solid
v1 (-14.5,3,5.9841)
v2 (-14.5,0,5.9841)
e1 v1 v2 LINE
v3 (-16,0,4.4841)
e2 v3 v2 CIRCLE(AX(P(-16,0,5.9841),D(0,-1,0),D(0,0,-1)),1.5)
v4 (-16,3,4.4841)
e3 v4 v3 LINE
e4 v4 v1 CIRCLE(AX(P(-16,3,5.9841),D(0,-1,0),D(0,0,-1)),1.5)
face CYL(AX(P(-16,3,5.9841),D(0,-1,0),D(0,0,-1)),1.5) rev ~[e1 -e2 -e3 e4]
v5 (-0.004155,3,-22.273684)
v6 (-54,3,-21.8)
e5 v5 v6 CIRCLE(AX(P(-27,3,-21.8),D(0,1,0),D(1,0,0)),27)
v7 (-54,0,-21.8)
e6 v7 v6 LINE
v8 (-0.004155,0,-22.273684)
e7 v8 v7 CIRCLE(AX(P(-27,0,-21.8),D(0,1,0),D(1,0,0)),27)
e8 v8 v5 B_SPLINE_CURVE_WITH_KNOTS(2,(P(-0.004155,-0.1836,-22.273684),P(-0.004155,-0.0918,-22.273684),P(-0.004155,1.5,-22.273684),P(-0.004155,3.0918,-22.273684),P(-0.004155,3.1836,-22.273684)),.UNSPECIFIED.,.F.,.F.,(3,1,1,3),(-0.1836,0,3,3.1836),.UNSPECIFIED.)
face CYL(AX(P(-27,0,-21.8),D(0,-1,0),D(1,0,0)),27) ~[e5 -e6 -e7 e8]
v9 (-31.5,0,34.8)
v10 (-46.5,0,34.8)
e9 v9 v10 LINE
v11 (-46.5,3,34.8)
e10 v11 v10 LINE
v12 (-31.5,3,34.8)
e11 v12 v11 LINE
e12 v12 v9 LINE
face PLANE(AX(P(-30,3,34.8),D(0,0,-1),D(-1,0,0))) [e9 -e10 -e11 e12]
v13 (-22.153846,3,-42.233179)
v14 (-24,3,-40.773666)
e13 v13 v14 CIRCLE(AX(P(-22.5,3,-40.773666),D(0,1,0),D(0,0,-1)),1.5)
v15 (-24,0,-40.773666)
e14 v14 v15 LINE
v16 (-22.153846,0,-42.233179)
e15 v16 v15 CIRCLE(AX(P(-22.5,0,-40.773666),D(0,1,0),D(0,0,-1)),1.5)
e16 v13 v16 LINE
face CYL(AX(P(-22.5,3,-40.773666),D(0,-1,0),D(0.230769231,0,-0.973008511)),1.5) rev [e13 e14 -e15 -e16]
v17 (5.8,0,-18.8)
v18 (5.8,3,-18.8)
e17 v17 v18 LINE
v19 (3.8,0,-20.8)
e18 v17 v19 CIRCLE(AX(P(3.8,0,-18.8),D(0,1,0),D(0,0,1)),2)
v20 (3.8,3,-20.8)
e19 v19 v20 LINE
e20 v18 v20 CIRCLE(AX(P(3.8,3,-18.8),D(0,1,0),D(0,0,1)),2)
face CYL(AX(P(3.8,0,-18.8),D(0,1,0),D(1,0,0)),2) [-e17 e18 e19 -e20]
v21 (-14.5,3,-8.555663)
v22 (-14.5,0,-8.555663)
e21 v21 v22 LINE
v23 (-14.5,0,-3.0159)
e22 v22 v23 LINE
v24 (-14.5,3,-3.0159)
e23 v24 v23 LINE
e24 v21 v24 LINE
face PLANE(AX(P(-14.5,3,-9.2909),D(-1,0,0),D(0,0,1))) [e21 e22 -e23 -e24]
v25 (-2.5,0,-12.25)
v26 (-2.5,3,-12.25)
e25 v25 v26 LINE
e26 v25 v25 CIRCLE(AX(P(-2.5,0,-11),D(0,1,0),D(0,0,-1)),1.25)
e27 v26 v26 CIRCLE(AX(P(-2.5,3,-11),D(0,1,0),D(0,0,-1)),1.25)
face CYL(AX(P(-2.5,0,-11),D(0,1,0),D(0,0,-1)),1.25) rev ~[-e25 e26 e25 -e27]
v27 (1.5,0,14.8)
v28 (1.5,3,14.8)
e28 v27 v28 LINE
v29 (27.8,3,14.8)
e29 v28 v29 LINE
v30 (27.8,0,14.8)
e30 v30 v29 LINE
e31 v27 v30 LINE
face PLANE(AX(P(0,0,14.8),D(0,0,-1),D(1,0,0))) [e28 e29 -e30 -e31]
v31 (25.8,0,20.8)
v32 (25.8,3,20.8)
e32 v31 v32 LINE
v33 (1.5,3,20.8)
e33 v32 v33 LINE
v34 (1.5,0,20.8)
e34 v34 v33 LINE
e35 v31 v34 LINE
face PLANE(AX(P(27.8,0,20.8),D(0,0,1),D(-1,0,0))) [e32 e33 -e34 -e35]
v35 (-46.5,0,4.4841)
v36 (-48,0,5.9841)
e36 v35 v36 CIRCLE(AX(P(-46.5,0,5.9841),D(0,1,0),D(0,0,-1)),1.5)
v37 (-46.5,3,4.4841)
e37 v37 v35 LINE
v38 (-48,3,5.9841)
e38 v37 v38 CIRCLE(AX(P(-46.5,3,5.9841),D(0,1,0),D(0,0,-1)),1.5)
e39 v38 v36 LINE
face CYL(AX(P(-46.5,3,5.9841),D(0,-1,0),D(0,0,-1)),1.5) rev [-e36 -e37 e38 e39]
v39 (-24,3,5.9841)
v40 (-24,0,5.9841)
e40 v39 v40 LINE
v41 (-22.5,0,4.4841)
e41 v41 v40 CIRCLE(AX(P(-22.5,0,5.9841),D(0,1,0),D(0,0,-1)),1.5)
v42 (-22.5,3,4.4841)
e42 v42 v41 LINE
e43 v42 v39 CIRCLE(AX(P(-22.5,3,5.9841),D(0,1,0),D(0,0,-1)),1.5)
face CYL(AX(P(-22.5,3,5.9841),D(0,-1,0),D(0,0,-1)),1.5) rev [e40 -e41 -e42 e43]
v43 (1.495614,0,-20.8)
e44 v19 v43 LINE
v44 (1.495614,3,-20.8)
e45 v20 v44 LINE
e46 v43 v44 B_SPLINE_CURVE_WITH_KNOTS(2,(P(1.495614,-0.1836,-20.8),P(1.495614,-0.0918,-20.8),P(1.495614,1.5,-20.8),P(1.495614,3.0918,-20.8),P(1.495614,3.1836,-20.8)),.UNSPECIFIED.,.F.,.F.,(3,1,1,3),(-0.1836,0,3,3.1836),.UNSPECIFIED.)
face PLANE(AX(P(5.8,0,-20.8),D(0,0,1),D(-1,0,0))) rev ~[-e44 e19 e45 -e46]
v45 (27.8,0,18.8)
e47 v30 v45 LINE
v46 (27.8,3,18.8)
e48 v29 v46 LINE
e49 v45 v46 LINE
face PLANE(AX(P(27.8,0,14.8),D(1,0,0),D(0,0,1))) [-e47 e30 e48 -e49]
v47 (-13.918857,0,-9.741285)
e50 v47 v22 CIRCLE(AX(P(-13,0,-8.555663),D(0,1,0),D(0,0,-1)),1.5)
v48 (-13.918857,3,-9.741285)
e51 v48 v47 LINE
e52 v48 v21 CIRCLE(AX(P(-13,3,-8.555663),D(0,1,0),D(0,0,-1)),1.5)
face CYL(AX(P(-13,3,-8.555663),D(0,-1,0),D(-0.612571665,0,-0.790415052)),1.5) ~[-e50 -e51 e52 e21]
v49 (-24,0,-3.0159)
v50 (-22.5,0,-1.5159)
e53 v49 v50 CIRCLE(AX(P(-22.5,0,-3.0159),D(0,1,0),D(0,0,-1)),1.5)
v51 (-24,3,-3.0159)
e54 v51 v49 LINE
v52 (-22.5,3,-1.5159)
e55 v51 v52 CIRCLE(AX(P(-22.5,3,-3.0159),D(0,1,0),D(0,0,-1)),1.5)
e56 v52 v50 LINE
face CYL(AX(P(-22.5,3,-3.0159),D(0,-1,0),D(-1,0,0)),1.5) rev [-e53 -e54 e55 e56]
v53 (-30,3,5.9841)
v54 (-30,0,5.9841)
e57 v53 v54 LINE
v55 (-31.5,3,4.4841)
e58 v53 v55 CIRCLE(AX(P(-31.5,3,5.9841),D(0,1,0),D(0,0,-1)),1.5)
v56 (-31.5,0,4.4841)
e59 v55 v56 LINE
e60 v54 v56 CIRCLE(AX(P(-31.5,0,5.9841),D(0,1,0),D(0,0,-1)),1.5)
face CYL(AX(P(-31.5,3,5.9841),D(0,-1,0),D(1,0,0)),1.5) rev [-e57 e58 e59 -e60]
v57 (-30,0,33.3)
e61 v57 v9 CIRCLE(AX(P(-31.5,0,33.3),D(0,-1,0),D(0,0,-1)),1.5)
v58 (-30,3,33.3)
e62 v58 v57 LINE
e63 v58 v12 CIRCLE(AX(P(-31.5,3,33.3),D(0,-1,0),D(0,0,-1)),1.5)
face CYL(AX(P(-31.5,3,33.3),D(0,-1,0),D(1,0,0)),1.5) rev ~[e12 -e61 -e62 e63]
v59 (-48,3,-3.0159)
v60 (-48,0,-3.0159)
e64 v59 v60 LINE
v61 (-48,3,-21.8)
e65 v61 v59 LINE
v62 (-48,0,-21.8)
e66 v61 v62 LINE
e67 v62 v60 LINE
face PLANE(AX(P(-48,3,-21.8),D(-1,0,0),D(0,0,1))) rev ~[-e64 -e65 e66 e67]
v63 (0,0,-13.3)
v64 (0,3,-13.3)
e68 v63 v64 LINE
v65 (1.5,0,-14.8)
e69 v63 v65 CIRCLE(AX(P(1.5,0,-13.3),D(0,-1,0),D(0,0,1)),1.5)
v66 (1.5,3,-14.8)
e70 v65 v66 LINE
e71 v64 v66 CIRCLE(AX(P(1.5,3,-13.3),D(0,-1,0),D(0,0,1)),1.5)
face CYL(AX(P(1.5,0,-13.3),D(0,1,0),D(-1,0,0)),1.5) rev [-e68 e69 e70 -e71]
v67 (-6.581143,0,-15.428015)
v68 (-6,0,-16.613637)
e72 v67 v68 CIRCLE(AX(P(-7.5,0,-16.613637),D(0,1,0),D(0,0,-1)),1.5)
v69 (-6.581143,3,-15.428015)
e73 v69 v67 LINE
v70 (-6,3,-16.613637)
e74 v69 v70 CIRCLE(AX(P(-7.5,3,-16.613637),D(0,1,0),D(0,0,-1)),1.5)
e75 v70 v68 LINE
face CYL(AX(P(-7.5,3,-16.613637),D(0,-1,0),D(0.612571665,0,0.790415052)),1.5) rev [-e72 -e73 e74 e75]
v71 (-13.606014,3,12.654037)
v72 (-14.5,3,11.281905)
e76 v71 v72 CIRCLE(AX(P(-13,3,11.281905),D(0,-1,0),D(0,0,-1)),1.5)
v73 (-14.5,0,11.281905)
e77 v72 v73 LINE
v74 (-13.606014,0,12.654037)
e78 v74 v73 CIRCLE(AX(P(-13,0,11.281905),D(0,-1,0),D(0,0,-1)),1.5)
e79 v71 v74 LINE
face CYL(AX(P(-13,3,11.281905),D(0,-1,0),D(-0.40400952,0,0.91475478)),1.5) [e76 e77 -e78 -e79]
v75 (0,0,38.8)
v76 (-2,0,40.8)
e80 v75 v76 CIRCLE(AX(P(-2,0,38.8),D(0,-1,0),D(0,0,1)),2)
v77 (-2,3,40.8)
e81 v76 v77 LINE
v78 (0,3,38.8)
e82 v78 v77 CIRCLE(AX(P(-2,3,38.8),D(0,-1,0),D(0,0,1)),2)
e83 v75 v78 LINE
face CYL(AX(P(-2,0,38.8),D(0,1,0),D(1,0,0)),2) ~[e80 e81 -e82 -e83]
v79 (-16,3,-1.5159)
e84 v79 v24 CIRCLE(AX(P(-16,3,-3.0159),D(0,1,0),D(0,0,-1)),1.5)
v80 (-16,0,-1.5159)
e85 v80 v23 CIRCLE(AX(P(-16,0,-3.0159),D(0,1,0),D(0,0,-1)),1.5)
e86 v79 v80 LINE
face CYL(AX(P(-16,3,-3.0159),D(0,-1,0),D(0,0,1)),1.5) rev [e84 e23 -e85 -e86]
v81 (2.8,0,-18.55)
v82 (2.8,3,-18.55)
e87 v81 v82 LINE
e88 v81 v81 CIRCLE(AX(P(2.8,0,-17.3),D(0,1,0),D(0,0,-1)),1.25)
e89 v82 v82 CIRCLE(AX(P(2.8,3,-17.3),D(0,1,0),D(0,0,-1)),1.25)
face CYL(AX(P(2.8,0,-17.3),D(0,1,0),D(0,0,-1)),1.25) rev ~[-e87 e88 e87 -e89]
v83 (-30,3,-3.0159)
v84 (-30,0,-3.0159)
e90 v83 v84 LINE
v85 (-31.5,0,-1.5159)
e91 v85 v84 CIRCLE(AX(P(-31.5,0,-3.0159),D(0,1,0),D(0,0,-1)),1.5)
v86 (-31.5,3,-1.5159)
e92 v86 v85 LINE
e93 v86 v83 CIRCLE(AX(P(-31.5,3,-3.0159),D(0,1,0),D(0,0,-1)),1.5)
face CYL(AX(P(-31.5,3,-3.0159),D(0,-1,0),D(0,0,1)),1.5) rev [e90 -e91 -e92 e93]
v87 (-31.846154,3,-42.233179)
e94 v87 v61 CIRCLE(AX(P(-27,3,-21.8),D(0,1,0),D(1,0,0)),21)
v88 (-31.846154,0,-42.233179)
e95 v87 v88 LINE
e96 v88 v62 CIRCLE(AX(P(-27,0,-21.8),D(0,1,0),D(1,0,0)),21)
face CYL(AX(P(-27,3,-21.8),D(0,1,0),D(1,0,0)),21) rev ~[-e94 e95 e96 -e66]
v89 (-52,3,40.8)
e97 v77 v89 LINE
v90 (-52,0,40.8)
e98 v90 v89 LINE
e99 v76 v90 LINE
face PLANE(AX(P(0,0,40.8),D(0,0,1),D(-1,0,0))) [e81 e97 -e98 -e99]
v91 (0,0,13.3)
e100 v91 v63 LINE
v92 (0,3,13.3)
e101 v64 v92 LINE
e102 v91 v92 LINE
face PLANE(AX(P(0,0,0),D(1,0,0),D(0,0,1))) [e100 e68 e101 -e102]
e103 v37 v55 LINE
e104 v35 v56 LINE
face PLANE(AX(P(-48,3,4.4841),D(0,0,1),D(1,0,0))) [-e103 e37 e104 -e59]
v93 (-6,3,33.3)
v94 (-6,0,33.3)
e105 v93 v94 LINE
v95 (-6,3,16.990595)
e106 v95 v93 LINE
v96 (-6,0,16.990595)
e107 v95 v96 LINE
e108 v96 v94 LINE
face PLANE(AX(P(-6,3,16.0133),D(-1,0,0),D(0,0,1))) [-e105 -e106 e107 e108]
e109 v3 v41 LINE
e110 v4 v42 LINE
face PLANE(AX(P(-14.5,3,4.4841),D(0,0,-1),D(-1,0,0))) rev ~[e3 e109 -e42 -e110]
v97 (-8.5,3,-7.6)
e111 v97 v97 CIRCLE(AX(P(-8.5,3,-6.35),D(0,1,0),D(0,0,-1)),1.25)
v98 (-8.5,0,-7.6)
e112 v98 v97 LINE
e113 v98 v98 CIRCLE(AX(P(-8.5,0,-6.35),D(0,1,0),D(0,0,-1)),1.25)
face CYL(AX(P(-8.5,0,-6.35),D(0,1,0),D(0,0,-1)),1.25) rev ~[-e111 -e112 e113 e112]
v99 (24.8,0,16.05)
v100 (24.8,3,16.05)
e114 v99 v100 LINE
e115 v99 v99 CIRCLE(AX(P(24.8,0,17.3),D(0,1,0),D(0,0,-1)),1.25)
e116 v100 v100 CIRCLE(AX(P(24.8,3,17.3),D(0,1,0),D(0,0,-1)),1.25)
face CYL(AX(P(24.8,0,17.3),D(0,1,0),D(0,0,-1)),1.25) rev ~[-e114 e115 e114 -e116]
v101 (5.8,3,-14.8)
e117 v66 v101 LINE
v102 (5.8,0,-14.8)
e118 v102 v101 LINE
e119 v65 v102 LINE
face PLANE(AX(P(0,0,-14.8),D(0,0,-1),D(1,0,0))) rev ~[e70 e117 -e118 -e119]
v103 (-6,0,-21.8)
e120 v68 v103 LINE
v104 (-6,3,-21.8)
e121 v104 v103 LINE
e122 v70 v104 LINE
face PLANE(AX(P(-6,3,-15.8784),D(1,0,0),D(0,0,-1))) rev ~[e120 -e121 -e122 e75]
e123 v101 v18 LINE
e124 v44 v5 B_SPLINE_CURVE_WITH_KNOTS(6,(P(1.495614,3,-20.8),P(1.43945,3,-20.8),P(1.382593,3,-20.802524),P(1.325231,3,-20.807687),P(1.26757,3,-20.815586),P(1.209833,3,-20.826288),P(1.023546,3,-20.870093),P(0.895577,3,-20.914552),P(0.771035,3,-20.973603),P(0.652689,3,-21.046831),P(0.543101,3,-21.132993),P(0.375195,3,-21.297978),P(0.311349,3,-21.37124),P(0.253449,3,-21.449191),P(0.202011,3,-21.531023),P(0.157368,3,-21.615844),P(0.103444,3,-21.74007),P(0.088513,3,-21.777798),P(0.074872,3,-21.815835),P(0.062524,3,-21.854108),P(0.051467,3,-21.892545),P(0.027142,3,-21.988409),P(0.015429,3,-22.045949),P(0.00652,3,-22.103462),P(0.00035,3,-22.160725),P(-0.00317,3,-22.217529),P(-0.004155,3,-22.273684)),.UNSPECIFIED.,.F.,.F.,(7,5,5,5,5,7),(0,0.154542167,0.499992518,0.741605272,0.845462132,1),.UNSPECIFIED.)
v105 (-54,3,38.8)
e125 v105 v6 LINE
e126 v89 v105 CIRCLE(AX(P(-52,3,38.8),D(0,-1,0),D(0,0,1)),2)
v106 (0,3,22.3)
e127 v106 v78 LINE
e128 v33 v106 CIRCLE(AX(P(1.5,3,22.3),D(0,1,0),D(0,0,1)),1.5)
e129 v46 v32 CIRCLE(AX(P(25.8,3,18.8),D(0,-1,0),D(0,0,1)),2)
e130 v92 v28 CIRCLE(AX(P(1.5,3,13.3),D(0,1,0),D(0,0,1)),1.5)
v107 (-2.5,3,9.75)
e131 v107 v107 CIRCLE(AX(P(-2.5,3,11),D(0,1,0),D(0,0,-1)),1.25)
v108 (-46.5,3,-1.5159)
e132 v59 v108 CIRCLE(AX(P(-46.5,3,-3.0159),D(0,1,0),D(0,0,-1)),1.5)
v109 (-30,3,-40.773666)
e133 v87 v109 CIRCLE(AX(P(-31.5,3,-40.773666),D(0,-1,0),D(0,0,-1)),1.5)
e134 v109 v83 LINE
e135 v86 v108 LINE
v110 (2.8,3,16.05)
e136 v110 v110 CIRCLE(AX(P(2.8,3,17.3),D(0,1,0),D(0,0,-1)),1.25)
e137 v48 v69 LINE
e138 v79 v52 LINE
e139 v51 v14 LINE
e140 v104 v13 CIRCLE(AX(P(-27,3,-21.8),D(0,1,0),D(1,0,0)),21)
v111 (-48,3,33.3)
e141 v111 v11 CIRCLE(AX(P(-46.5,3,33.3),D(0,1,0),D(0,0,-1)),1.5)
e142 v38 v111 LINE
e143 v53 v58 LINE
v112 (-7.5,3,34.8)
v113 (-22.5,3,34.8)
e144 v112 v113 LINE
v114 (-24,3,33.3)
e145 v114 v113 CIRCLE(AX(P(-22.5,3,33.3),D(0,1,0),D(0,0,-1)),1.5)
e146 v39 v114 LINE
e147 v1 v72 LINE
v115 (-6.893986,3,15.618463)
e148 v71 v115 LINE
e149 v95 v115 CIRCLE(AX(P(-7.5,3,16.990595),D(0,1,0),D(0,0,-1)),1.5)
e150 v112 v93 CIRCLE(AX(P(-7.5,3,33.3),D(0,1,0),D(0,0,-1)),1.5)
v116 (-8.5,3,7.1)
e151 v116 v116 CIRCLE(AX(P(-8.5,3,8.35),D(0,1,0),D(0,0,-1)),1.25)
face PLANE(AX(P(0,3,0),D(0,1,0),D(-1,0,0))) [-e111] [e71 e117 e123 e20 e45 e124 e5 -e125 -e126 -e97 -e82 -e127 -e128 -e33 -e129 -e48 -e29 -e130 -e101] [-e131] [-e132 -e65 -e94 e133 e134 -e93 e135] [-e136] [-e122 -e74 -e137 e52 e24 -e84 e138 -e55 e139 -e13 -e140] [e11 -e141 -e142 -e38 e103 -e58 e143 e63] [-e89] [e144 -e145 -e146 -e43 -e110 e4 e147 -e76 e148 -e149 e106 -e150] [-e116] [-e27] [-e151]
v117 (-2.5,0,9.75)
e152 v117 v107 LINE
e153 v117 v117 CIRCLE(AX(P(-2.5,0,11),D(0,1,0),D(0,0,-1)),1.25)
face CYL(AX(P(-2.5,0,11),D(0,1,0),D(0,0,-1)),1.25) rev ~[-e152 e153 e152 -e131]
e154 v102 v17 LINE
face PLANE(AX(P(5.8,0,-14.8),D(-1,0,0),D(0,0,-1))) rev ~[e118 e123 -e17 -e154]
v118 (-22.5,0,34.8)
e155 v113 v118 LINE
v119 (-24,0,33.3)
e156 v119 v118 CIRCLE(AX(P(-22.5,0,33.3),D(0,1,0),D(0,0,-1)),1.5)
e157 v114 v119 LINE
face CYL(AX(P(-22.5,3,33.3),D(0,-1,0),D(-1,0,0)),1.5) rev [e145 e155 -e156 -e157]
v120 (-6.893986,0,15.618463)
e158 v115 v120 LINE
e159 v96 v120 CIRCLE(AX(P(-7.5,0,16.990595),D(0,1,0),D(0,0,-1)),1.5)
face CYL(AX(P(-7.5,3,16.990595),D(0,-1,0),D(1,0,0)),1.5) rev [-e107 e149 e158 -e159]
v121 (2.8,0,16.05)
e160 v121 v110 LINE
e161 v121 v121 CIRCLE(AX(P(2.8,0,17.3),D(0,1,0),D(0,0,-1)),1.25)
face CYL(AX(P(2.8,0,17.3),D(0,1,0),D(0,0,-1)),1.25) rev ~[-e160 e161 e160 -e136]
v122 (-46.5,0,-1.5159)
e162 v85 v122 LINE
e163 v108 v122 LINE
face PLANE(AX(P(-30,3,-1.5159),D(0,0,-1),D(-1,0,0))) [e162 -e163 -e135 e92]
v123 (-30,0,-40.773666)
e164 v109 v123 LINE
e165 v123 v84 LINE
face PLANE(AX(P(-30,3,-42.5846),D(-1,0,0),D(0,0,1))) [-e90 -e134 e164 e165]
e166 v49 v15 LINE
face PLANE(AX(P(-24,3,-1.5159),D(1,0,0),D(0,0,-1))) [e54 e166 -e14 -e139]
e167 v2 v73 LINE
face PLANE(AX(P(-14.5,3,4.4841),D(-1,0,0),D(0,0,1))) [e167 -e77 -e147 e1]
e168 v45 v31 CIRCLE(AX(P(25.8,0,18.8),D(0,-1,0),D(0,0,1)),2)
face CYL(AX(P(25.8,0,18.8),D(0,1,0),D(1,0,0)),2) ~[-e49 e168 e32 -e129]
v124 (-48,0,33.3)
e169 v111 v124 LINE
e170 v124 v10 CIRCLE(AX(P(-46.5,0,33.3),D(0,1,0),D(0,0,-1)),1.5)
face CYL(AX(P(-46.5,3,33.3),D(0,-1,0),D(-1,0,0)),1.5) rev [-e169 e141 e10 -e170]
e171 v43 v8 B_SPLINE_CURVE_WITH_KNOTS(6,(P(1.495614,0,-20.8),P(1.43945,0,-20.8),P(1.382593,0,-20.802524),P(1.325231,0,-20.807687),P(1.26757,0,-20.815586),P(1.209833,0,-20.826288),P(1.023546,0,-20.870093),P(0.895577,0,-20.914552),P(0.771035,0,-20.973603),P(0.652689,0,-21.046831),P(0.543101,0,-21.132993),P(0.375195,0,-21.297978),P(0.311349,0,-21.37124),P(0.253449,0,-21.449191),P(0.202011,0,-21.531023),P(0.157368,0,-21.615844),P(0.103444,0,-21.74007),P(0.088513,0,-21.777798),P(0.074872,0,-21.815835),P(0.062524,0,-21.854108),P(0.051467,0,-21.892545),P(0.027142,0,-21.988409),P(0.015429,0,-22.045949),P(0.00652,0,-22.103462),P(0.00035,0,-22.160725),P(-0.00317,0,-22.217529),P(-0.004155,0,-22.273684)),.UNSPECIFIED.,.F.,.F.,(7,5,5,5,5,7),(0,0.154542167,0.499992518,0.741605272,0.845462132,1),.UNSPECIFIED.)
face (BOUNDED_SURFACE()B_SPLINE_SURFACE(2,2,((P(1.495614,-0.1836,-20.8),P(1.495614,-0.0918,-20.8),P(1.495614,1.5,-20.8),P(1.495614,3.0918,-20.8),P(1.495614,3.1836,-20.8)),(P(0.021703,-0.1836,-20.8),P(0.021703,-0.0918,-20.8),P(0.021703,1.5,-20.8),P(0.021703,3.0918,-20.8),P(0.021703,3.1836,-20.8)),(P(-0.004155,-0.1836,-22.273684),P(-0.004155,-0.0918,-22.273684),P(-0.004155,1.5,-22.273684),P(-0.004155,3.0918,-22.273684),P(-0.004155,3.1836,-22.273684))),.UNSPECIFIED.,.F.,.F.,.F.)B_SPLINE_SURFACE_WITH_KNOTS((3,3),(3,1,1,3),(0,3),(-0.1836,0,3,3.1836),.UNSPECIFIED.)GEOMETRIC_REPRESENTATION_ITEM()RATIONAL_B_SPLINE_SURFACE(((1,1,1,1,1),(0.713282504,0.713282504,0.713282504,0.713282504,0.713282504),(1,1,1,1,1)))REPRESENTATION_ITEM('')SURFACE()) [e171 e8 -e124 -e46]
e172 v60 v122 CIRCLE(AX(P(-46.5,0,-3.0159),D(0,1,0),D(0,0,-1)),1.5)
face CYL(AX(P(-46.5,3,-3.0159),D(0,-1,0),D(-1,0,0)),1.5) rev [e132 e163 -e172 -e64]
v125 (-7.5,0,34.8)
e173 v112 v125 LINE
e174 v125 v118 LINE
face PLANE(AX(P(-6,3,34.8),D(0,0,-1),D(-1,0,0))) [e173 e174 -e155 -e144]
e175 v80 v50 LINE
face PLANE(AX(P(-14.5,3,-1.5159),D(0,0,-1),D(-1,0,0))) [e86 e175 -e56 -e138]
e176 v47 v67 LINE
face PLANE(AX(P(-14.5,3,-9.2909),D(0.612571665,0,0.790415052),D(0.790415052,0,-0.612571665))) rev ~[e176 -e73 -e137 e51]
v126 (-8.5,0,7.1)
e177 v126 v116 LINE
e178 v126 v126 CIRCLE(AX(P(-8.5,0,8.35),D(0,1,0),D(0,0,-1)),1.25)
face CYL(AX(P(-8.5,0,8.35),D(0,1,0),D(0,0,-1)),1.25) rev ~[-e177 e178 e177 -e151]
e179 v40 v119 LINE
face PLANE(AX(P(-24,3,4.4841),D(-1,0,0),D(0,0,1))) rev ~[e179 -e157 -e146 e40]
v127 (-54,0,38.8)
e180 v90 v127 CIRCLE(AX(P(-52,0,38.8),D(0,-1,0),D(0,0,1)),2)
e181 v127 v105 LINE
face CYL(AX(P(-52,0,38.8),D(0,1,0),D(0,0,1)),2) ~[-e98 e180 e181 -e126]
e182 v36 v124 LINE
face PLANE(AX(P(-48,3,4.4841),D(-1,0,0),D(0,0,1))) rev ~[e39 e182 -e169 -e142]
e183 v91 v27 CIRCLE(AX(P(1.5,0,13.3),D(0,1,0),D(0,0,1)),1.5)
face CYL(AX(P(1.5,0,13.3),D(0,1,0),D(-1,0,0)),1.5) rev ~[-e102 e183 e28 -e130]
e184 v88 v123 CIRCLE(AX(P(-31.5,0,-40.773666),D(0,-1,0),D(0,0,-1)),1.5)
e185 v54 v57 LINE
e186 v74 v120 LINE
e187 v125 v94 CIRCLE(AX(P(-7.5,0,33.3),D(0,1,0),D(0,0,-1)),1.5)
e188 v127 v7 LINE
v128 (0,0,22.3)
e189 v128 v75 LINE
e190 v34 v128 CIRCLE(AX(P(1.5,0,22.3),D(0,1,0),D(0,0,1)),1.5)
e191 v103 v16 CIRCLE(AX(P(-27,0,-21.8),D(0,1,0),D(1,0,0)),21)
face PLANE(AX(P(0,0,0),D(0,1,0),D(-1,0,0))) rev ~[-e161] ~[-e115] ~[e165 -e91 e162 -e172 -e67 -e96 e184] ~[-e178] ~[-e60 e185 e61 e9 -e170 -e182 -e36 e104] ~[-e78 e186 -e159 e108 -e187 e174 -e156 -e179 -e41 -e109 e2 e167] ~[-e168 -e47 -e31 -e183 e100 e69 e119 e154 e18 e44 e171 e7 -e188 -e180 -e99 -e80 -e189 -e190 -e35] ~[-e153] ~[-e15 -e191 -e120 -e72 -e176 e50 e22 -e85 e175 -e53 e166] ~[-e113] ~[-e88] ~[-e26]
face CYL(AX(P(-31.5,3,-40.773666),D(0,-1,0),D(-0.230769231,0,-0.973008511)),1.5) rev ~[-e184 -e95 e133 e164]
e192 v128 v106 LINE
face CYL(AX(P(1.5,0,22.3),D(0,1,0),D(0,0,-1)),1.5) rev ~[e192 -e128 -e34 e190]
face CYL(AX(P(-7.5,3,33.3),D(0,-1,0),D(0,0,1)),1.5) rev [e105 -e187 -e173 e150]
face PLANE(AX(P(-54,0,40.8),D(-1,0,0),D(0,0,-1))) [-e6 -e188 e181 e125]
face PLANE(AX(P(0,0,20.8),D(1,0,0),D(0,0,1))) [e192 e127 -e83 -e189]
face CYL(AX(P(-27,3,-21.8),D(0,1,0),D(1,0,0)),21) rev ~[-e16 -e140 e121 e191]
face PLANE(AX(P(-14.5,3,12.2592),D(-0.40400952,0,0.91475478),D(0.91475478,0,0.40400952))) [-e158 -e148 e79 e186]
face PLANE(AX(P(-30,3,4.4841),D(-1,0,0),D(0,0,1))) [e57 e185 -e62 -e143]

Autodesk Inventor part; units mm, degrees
ref_plane "YZ Plane" through (0, 0, 0) normal (1, 0, 0) x (0, 1, 0)
ref_plane "XZ Plane" through (0, 0, 0) normal (0, 1, 0) x (-1, 0, 0)
ref_plane "XY Plane" through (0, 0, 0) normal (0, 0, 1) x (1, 0, 0)
sketch "Sketch1" plane through (0, 0, 0) normal (0, 1, 0) x (-1, 0, 0)
  line L0 (0, 0) -> (0, -14.8)
  line L1 (0, -14.8) -> (-5.8, -14.8)
  line L2 (-5.8, -14.8) -> (-5.8, -20.8)
  line L3 (-5.8, -20.8) -> (0, -20.8)
  line L4 (0, 0) -> (0, 14.8)
  line L5 (0, 14.8) -> (-27.8, 14.8)
  line L6 (-27.8, 14.8) -> (-27.8, 20.8)
  line L7 (-27.8, 20.8) -> (0, 20.8)
  line L8 (0, 20.8) -> (0, 40.8)
  line L9 (0, 40.8) -> (54, 40.8)
  line L10 (0, -20.8) -> (0, -21.8)
  line L11 (54, 40.8) -> (54, -21.8)
  arc A0 (0, -21.8) -> (54, -21.8) centre (27, -21.8) ccw
  line L12 (-27.8, 17.3) -> (2.5, 17.3) construction
  line L13 (2.5, 17.3) -> (2.5, -17.3) construction
  line L14 (2.5, -17.3) -> (-5.8, -17.3) construction
  line L15 (0, 0) -> (2.5, 0) construction
  line L16 (2.5, 0) -> (8.5, 0) construction
  line L17 (8.5, -6.35) -> (8.5, 8.35) construction
  line L18 (-27.8, 14.8) -> (-5.8, -14.8) construction
  line L19 (-16.8, 0) -> (-21.8, 0) construction
  point P0 (-2.8, -17.3)
  point P1 (-2.8, 17.3)
  point P2 (-24.8, 17.3)
  point P3 (2.5, 11)
  point P4 (2.5, -11)
  dimension "d0" = 20
  dimension "d1" = 6
  dimension "d2" = 6
  dimension "d4" = 54
  dimension "d5" = 1
  dimension "d7" = 2.5
  dimension "d8" = 2.5
  dimension "d9" = 5.3
  dimension "d10" = 3
  dimension "d11" = 34.6
  dimension "d12" = 11
  dimension "d13" = 11
  dimension "d14" = 5.3
  dimension "d15" = 22
  dimension "d16" = 3
  dimension "d19" = 6
  dimension "d20" = 14.7
  dimension "d21" = 6.35
  dimension "d53" = 5
extrude "Extrusion1" add sketch "Sketch1" along normal blind 3
hole "Hole1" at (2.8, 0, -17.3) at (2.8, 0, 17.3) at (24.8, 0, 17.3) at (-2.5, 0, 11) at (-2.5, 0, -11) at (-8.5, 0, 8.35) at (-8.5, 0, -6.35) direction (0, 1, 0) diameter 2.5 end through all
fillet "ManufacturingFillet" radius 1.5 4 edges at (0, 1.5, -20.8) (0, 1.5, -14.8) (0, 1.5, 14.8) (0, 1.5, 20.8)
fillet "Fillet2" radius 2 4 edges at (5.8, 1.5, -20.8) (27.8, 1.5, 20.8) (0, 1.5, 40.8) (-54, 1.5, 40.8)
sketch "InteriorSketch" plane through (0, 3, 0) normal (0, 1, 0) x (1, 0, 0)
  arc A0 (-54, -38.8) -> (-52, -40.8) centre (-52, -38.8) ccw projected
  line L0 (-52, -40.8) -> (-2, -40.8) projected
  arc A1 (-2, -40.8) -> (0, -38.8) centre (-2, -38.8) ccw projected
  line L1 (0, -38.8) -> (0, -22.3) projected
  arc A2 (1.5, -20.8) -> (0, -22.3) centre (1.5, -22.3) ccw projected
  line L2 (1.5, -20.8) -> (25.8, -20.8) projected
  arc A3 (25.8, -20.8) -> (27.8, -18.8) centre (25.8, -18.8) ccw projected
  line L3 (27.8, -18.8) -> (27.8, -14.8) projected
  line L4 (27.8, -14.8) -> (1.5, -14.8) projected
  arc A4 (0, -13.3) -> (1.5, -14.8) centre (1.5, -13.3) ccw projected
  line L5 (0, -13.3) -> (0, 13.3) projected
  arc A5 (1.5, 14.8) -> (0, 13.3) centre (1.5, 13.3) ccw projected
  line L6 (1.5, 14.8) -> (5.8, 14.8) projected
  line L7 (5.8, 14.8) -> (5.8, 18.8) projected
  arc A6 (5.8, 18.8) -> (3.8, 20.8) centre (3.8, 18.8) ccw projected
  line L8 (3.8, 20.8) -> (1.4956, 20.8) projected
  arc A7 (-0.0042, 22.2737) -> (1.4956, 20.8) centre (1.4956, 22.3) ccw projected
  arc A8 (-0.0042, 22.2737) -> (-54, 21.8) centre (-27, 21.8) ccw projected
  line L9 (-54, 21.8) -> (-54, -38.8) projected
  circle A9 centre (-8.5, -8.35) radius 1.25 projected
  circle A10 centre (-2.5, -11) radius 1.25 projected
  circle A11 centre (2.8, -17.3) radius 1.25 projected
  circle A12 centre (2.8, 17.3) radius 1.25 projected
  circle A13 centre (24.8, -17.3) radius 1.25 projected
  circle A14 centre (-2.5, 11) radius 1.25 projected
  circle A15 centre (-8.5, 6.35) radius 1.25 projected
  line L10 (-14.5, 9.2909) -> (-14.5, -12.2592)
  line L11 (-14.5, -12.2592) -> (-6, -16.0133)
  line L12 (-6, -16.0133) -> (-6, -34.8)
  line L13 (-6, -34.8) -> (-48, -34.8)
  circle A16 centre (-2.5, 11) radius 1.25 construction
  line L14 (-8.5, 6.35) -> (-2.5, 11) construction
  line L15 (-8.5, -8.35) -> (-2.5, -11) construction
  line L16 (-14.5, 9.2909) -> (-6, 15.8784)
  line L17 (-6, 15.8784) -> (-6, 21.8)
  line L18 (-6, 15.8784) -> (-6, 21.8)
  arc A17 (-6, 21.8) -> (-48, 21.8) centre (-27, 21.8) ccw
  line L19 (-48, 21.8) -> (-48, -34.8)
  line L20 (-6, 21.8) -> (-48, 21.8) construction
  line L21 (-27, -34.8) -> (-27, 42.8) construction
  line L22 (-14.5, -1.4841) -> (-48, -1.4841) construction
  line L23 (-14.5, 1.5159) -> (-24, 1.5159)
  line L24 (-24, 1.5159) -> (-24, 42.5846)
  line L25 (-30, 42.5846) -> (-30, 1.5159)
  line L26 (-30, 1.5159) -> (-48, 1.5159)
  line L27 (-48, -4.4841) -> (-30, -4.4841)
  line L28 (-30, -4.4841) -> (-30, -34.8)
  line L29 (-14.5, -4.4841) -> (-24, -4.4841)
  line L30 (-24, -4.4841) -> (-24, -34.8)
  line L31 (-30, 1.5159) -> (-24, 1.5159) construction
  line L32 (-30, 1.5159) -> (-30, -4.4841) construction
  point P0 (0, 0)
  point P1 (-14.5, -1.4841)
  point P2 (-27, -1.4841)
  point P3 (-30, -1.4841)
  point P4 (-27, 1.5159)
  dimension "d31" = 6
  dimension "d32" = 6
  dimension "d34" = 6
  dimension "d38" = 6
  dimension "d39" = 6
  dimension "d44" = 6
  dimension "d48" = 6
  dimension "d49" = 6
extrude "Extrusion3" cut sketch "InteriorSketch" against normal through all contours L10 L23 L24 A17 L17 L16 | L10 L11 L12 L13 L30 L29 | L25 L26 L19 A17 | L13 L19 L27 L28
fillet "Fillet3" radius 1.5 18 edges at (-24, 1.5, 34.8) (-6, 1.5, 34.8) (-24, 1.5, 4.4841) (-14.5, 1.5, 4.4841) (-6, 1.5, 16.0133) (-14.5, 1.5, 12.2592) (-14.5, 1.5, -9.2909) (-6, 1.5, -15.8784) (-24, 1.5, -42.5846) (-14.5, 1.5, -1.5159) (-24, 1.5, -1.5159) (-30, 1.5, -1.5159) (-30, 1.5, 4.4841) (-30, 1.5, 34.8) (-48, 1.5, 34.8) (-48, 1.5, 4.4841) (-48, 1.5, -1.5159) (-30, 1.5, -42.5846)
ref_plane "Work Plane3" through (19, 0, 13.3) normal (1, 0, 0) x (0, 0, -1)
ref_plane "Work Plane4" through (27.8, 0, -5.2) normal (0, 0, -1) x (-1, 0, 0)
equation "\"d0\" = head_back_length"
equation "\"d1\" = fix_width"
equation "\"d2\" = fix_width"
equation "\"d4\" = head_height"
equation "\"d5\" = head_forward - 0.5 * head_height"
equation "\"d7\" = hole_2_intern"
equation "\"d8\" = hole_2_intern"
equation "\"d9\" = hole_side_2_hole_top"
equation "\"d10\" = hole_2_extern"
equation "\"d11\" = side_2_side_hole"
equation "\"d12\" = 0.5 * hole_2_hole"
equation "\"d13\" = 0.5 * hole_2_hole"
equation "\"d14\" = hole_side_2_hole_top"
equation "\"d15\" = hole_2_hole"
equation "\"d16\" = hole_2_extern"
equation "\"d19\" = camera_holes_offset_z"
equation "\"d20\" = camera_holes_dist"
equation "\"d21\" = 0.5 * camera_holes_dist - camera_holes_offset_x"
equation "\"d17\" = plate_thickness"
equation "\"d31\" = structure_width"
equation "\"d32\" = structure_width"
equation "\"d34\" = structure_width"
equation "\"d38\" = structure_width"
equation "\"d39\" = structure_width"
equation "\"d44\" = structure_width"
equation "\"d48\" = structure_width"
equation "\"d49\" = structure_width"
equation "\"head_back_length\" = 20"
equation "\"head_height\" = 54"
equation "\"head_forward\" = 28"
equation "\"fix_width\" = 6"
equation "\"fix_2_fix\" = 29.1"
equation "\"hole_2_intern\" = hole_2_servo - fix_2_servo_margin"
equation "\"fix_2_servo_margin\" = 0.3"
equation "\"hole_2_servo\" = 2.8"
equation "\"side_2_side_hole\" = 34.6"
equation "\"hole_side_2_hole_top\" = 5.3"
equation "\"hole_2_extern\" = 3"
equation "\"hole_2_hole\" = 22"
equation "\"plate_thickness\" = 3"
equation "\"camera_holes_offset_z\" = 6"
equation "\"camera_holes_dist\" = 14.7"
equation "\"camera_holes_offset_x\" = 1"
equation "\"structure_width\" = 6"
properties part number "base_head" material "Aluminum 6061"
